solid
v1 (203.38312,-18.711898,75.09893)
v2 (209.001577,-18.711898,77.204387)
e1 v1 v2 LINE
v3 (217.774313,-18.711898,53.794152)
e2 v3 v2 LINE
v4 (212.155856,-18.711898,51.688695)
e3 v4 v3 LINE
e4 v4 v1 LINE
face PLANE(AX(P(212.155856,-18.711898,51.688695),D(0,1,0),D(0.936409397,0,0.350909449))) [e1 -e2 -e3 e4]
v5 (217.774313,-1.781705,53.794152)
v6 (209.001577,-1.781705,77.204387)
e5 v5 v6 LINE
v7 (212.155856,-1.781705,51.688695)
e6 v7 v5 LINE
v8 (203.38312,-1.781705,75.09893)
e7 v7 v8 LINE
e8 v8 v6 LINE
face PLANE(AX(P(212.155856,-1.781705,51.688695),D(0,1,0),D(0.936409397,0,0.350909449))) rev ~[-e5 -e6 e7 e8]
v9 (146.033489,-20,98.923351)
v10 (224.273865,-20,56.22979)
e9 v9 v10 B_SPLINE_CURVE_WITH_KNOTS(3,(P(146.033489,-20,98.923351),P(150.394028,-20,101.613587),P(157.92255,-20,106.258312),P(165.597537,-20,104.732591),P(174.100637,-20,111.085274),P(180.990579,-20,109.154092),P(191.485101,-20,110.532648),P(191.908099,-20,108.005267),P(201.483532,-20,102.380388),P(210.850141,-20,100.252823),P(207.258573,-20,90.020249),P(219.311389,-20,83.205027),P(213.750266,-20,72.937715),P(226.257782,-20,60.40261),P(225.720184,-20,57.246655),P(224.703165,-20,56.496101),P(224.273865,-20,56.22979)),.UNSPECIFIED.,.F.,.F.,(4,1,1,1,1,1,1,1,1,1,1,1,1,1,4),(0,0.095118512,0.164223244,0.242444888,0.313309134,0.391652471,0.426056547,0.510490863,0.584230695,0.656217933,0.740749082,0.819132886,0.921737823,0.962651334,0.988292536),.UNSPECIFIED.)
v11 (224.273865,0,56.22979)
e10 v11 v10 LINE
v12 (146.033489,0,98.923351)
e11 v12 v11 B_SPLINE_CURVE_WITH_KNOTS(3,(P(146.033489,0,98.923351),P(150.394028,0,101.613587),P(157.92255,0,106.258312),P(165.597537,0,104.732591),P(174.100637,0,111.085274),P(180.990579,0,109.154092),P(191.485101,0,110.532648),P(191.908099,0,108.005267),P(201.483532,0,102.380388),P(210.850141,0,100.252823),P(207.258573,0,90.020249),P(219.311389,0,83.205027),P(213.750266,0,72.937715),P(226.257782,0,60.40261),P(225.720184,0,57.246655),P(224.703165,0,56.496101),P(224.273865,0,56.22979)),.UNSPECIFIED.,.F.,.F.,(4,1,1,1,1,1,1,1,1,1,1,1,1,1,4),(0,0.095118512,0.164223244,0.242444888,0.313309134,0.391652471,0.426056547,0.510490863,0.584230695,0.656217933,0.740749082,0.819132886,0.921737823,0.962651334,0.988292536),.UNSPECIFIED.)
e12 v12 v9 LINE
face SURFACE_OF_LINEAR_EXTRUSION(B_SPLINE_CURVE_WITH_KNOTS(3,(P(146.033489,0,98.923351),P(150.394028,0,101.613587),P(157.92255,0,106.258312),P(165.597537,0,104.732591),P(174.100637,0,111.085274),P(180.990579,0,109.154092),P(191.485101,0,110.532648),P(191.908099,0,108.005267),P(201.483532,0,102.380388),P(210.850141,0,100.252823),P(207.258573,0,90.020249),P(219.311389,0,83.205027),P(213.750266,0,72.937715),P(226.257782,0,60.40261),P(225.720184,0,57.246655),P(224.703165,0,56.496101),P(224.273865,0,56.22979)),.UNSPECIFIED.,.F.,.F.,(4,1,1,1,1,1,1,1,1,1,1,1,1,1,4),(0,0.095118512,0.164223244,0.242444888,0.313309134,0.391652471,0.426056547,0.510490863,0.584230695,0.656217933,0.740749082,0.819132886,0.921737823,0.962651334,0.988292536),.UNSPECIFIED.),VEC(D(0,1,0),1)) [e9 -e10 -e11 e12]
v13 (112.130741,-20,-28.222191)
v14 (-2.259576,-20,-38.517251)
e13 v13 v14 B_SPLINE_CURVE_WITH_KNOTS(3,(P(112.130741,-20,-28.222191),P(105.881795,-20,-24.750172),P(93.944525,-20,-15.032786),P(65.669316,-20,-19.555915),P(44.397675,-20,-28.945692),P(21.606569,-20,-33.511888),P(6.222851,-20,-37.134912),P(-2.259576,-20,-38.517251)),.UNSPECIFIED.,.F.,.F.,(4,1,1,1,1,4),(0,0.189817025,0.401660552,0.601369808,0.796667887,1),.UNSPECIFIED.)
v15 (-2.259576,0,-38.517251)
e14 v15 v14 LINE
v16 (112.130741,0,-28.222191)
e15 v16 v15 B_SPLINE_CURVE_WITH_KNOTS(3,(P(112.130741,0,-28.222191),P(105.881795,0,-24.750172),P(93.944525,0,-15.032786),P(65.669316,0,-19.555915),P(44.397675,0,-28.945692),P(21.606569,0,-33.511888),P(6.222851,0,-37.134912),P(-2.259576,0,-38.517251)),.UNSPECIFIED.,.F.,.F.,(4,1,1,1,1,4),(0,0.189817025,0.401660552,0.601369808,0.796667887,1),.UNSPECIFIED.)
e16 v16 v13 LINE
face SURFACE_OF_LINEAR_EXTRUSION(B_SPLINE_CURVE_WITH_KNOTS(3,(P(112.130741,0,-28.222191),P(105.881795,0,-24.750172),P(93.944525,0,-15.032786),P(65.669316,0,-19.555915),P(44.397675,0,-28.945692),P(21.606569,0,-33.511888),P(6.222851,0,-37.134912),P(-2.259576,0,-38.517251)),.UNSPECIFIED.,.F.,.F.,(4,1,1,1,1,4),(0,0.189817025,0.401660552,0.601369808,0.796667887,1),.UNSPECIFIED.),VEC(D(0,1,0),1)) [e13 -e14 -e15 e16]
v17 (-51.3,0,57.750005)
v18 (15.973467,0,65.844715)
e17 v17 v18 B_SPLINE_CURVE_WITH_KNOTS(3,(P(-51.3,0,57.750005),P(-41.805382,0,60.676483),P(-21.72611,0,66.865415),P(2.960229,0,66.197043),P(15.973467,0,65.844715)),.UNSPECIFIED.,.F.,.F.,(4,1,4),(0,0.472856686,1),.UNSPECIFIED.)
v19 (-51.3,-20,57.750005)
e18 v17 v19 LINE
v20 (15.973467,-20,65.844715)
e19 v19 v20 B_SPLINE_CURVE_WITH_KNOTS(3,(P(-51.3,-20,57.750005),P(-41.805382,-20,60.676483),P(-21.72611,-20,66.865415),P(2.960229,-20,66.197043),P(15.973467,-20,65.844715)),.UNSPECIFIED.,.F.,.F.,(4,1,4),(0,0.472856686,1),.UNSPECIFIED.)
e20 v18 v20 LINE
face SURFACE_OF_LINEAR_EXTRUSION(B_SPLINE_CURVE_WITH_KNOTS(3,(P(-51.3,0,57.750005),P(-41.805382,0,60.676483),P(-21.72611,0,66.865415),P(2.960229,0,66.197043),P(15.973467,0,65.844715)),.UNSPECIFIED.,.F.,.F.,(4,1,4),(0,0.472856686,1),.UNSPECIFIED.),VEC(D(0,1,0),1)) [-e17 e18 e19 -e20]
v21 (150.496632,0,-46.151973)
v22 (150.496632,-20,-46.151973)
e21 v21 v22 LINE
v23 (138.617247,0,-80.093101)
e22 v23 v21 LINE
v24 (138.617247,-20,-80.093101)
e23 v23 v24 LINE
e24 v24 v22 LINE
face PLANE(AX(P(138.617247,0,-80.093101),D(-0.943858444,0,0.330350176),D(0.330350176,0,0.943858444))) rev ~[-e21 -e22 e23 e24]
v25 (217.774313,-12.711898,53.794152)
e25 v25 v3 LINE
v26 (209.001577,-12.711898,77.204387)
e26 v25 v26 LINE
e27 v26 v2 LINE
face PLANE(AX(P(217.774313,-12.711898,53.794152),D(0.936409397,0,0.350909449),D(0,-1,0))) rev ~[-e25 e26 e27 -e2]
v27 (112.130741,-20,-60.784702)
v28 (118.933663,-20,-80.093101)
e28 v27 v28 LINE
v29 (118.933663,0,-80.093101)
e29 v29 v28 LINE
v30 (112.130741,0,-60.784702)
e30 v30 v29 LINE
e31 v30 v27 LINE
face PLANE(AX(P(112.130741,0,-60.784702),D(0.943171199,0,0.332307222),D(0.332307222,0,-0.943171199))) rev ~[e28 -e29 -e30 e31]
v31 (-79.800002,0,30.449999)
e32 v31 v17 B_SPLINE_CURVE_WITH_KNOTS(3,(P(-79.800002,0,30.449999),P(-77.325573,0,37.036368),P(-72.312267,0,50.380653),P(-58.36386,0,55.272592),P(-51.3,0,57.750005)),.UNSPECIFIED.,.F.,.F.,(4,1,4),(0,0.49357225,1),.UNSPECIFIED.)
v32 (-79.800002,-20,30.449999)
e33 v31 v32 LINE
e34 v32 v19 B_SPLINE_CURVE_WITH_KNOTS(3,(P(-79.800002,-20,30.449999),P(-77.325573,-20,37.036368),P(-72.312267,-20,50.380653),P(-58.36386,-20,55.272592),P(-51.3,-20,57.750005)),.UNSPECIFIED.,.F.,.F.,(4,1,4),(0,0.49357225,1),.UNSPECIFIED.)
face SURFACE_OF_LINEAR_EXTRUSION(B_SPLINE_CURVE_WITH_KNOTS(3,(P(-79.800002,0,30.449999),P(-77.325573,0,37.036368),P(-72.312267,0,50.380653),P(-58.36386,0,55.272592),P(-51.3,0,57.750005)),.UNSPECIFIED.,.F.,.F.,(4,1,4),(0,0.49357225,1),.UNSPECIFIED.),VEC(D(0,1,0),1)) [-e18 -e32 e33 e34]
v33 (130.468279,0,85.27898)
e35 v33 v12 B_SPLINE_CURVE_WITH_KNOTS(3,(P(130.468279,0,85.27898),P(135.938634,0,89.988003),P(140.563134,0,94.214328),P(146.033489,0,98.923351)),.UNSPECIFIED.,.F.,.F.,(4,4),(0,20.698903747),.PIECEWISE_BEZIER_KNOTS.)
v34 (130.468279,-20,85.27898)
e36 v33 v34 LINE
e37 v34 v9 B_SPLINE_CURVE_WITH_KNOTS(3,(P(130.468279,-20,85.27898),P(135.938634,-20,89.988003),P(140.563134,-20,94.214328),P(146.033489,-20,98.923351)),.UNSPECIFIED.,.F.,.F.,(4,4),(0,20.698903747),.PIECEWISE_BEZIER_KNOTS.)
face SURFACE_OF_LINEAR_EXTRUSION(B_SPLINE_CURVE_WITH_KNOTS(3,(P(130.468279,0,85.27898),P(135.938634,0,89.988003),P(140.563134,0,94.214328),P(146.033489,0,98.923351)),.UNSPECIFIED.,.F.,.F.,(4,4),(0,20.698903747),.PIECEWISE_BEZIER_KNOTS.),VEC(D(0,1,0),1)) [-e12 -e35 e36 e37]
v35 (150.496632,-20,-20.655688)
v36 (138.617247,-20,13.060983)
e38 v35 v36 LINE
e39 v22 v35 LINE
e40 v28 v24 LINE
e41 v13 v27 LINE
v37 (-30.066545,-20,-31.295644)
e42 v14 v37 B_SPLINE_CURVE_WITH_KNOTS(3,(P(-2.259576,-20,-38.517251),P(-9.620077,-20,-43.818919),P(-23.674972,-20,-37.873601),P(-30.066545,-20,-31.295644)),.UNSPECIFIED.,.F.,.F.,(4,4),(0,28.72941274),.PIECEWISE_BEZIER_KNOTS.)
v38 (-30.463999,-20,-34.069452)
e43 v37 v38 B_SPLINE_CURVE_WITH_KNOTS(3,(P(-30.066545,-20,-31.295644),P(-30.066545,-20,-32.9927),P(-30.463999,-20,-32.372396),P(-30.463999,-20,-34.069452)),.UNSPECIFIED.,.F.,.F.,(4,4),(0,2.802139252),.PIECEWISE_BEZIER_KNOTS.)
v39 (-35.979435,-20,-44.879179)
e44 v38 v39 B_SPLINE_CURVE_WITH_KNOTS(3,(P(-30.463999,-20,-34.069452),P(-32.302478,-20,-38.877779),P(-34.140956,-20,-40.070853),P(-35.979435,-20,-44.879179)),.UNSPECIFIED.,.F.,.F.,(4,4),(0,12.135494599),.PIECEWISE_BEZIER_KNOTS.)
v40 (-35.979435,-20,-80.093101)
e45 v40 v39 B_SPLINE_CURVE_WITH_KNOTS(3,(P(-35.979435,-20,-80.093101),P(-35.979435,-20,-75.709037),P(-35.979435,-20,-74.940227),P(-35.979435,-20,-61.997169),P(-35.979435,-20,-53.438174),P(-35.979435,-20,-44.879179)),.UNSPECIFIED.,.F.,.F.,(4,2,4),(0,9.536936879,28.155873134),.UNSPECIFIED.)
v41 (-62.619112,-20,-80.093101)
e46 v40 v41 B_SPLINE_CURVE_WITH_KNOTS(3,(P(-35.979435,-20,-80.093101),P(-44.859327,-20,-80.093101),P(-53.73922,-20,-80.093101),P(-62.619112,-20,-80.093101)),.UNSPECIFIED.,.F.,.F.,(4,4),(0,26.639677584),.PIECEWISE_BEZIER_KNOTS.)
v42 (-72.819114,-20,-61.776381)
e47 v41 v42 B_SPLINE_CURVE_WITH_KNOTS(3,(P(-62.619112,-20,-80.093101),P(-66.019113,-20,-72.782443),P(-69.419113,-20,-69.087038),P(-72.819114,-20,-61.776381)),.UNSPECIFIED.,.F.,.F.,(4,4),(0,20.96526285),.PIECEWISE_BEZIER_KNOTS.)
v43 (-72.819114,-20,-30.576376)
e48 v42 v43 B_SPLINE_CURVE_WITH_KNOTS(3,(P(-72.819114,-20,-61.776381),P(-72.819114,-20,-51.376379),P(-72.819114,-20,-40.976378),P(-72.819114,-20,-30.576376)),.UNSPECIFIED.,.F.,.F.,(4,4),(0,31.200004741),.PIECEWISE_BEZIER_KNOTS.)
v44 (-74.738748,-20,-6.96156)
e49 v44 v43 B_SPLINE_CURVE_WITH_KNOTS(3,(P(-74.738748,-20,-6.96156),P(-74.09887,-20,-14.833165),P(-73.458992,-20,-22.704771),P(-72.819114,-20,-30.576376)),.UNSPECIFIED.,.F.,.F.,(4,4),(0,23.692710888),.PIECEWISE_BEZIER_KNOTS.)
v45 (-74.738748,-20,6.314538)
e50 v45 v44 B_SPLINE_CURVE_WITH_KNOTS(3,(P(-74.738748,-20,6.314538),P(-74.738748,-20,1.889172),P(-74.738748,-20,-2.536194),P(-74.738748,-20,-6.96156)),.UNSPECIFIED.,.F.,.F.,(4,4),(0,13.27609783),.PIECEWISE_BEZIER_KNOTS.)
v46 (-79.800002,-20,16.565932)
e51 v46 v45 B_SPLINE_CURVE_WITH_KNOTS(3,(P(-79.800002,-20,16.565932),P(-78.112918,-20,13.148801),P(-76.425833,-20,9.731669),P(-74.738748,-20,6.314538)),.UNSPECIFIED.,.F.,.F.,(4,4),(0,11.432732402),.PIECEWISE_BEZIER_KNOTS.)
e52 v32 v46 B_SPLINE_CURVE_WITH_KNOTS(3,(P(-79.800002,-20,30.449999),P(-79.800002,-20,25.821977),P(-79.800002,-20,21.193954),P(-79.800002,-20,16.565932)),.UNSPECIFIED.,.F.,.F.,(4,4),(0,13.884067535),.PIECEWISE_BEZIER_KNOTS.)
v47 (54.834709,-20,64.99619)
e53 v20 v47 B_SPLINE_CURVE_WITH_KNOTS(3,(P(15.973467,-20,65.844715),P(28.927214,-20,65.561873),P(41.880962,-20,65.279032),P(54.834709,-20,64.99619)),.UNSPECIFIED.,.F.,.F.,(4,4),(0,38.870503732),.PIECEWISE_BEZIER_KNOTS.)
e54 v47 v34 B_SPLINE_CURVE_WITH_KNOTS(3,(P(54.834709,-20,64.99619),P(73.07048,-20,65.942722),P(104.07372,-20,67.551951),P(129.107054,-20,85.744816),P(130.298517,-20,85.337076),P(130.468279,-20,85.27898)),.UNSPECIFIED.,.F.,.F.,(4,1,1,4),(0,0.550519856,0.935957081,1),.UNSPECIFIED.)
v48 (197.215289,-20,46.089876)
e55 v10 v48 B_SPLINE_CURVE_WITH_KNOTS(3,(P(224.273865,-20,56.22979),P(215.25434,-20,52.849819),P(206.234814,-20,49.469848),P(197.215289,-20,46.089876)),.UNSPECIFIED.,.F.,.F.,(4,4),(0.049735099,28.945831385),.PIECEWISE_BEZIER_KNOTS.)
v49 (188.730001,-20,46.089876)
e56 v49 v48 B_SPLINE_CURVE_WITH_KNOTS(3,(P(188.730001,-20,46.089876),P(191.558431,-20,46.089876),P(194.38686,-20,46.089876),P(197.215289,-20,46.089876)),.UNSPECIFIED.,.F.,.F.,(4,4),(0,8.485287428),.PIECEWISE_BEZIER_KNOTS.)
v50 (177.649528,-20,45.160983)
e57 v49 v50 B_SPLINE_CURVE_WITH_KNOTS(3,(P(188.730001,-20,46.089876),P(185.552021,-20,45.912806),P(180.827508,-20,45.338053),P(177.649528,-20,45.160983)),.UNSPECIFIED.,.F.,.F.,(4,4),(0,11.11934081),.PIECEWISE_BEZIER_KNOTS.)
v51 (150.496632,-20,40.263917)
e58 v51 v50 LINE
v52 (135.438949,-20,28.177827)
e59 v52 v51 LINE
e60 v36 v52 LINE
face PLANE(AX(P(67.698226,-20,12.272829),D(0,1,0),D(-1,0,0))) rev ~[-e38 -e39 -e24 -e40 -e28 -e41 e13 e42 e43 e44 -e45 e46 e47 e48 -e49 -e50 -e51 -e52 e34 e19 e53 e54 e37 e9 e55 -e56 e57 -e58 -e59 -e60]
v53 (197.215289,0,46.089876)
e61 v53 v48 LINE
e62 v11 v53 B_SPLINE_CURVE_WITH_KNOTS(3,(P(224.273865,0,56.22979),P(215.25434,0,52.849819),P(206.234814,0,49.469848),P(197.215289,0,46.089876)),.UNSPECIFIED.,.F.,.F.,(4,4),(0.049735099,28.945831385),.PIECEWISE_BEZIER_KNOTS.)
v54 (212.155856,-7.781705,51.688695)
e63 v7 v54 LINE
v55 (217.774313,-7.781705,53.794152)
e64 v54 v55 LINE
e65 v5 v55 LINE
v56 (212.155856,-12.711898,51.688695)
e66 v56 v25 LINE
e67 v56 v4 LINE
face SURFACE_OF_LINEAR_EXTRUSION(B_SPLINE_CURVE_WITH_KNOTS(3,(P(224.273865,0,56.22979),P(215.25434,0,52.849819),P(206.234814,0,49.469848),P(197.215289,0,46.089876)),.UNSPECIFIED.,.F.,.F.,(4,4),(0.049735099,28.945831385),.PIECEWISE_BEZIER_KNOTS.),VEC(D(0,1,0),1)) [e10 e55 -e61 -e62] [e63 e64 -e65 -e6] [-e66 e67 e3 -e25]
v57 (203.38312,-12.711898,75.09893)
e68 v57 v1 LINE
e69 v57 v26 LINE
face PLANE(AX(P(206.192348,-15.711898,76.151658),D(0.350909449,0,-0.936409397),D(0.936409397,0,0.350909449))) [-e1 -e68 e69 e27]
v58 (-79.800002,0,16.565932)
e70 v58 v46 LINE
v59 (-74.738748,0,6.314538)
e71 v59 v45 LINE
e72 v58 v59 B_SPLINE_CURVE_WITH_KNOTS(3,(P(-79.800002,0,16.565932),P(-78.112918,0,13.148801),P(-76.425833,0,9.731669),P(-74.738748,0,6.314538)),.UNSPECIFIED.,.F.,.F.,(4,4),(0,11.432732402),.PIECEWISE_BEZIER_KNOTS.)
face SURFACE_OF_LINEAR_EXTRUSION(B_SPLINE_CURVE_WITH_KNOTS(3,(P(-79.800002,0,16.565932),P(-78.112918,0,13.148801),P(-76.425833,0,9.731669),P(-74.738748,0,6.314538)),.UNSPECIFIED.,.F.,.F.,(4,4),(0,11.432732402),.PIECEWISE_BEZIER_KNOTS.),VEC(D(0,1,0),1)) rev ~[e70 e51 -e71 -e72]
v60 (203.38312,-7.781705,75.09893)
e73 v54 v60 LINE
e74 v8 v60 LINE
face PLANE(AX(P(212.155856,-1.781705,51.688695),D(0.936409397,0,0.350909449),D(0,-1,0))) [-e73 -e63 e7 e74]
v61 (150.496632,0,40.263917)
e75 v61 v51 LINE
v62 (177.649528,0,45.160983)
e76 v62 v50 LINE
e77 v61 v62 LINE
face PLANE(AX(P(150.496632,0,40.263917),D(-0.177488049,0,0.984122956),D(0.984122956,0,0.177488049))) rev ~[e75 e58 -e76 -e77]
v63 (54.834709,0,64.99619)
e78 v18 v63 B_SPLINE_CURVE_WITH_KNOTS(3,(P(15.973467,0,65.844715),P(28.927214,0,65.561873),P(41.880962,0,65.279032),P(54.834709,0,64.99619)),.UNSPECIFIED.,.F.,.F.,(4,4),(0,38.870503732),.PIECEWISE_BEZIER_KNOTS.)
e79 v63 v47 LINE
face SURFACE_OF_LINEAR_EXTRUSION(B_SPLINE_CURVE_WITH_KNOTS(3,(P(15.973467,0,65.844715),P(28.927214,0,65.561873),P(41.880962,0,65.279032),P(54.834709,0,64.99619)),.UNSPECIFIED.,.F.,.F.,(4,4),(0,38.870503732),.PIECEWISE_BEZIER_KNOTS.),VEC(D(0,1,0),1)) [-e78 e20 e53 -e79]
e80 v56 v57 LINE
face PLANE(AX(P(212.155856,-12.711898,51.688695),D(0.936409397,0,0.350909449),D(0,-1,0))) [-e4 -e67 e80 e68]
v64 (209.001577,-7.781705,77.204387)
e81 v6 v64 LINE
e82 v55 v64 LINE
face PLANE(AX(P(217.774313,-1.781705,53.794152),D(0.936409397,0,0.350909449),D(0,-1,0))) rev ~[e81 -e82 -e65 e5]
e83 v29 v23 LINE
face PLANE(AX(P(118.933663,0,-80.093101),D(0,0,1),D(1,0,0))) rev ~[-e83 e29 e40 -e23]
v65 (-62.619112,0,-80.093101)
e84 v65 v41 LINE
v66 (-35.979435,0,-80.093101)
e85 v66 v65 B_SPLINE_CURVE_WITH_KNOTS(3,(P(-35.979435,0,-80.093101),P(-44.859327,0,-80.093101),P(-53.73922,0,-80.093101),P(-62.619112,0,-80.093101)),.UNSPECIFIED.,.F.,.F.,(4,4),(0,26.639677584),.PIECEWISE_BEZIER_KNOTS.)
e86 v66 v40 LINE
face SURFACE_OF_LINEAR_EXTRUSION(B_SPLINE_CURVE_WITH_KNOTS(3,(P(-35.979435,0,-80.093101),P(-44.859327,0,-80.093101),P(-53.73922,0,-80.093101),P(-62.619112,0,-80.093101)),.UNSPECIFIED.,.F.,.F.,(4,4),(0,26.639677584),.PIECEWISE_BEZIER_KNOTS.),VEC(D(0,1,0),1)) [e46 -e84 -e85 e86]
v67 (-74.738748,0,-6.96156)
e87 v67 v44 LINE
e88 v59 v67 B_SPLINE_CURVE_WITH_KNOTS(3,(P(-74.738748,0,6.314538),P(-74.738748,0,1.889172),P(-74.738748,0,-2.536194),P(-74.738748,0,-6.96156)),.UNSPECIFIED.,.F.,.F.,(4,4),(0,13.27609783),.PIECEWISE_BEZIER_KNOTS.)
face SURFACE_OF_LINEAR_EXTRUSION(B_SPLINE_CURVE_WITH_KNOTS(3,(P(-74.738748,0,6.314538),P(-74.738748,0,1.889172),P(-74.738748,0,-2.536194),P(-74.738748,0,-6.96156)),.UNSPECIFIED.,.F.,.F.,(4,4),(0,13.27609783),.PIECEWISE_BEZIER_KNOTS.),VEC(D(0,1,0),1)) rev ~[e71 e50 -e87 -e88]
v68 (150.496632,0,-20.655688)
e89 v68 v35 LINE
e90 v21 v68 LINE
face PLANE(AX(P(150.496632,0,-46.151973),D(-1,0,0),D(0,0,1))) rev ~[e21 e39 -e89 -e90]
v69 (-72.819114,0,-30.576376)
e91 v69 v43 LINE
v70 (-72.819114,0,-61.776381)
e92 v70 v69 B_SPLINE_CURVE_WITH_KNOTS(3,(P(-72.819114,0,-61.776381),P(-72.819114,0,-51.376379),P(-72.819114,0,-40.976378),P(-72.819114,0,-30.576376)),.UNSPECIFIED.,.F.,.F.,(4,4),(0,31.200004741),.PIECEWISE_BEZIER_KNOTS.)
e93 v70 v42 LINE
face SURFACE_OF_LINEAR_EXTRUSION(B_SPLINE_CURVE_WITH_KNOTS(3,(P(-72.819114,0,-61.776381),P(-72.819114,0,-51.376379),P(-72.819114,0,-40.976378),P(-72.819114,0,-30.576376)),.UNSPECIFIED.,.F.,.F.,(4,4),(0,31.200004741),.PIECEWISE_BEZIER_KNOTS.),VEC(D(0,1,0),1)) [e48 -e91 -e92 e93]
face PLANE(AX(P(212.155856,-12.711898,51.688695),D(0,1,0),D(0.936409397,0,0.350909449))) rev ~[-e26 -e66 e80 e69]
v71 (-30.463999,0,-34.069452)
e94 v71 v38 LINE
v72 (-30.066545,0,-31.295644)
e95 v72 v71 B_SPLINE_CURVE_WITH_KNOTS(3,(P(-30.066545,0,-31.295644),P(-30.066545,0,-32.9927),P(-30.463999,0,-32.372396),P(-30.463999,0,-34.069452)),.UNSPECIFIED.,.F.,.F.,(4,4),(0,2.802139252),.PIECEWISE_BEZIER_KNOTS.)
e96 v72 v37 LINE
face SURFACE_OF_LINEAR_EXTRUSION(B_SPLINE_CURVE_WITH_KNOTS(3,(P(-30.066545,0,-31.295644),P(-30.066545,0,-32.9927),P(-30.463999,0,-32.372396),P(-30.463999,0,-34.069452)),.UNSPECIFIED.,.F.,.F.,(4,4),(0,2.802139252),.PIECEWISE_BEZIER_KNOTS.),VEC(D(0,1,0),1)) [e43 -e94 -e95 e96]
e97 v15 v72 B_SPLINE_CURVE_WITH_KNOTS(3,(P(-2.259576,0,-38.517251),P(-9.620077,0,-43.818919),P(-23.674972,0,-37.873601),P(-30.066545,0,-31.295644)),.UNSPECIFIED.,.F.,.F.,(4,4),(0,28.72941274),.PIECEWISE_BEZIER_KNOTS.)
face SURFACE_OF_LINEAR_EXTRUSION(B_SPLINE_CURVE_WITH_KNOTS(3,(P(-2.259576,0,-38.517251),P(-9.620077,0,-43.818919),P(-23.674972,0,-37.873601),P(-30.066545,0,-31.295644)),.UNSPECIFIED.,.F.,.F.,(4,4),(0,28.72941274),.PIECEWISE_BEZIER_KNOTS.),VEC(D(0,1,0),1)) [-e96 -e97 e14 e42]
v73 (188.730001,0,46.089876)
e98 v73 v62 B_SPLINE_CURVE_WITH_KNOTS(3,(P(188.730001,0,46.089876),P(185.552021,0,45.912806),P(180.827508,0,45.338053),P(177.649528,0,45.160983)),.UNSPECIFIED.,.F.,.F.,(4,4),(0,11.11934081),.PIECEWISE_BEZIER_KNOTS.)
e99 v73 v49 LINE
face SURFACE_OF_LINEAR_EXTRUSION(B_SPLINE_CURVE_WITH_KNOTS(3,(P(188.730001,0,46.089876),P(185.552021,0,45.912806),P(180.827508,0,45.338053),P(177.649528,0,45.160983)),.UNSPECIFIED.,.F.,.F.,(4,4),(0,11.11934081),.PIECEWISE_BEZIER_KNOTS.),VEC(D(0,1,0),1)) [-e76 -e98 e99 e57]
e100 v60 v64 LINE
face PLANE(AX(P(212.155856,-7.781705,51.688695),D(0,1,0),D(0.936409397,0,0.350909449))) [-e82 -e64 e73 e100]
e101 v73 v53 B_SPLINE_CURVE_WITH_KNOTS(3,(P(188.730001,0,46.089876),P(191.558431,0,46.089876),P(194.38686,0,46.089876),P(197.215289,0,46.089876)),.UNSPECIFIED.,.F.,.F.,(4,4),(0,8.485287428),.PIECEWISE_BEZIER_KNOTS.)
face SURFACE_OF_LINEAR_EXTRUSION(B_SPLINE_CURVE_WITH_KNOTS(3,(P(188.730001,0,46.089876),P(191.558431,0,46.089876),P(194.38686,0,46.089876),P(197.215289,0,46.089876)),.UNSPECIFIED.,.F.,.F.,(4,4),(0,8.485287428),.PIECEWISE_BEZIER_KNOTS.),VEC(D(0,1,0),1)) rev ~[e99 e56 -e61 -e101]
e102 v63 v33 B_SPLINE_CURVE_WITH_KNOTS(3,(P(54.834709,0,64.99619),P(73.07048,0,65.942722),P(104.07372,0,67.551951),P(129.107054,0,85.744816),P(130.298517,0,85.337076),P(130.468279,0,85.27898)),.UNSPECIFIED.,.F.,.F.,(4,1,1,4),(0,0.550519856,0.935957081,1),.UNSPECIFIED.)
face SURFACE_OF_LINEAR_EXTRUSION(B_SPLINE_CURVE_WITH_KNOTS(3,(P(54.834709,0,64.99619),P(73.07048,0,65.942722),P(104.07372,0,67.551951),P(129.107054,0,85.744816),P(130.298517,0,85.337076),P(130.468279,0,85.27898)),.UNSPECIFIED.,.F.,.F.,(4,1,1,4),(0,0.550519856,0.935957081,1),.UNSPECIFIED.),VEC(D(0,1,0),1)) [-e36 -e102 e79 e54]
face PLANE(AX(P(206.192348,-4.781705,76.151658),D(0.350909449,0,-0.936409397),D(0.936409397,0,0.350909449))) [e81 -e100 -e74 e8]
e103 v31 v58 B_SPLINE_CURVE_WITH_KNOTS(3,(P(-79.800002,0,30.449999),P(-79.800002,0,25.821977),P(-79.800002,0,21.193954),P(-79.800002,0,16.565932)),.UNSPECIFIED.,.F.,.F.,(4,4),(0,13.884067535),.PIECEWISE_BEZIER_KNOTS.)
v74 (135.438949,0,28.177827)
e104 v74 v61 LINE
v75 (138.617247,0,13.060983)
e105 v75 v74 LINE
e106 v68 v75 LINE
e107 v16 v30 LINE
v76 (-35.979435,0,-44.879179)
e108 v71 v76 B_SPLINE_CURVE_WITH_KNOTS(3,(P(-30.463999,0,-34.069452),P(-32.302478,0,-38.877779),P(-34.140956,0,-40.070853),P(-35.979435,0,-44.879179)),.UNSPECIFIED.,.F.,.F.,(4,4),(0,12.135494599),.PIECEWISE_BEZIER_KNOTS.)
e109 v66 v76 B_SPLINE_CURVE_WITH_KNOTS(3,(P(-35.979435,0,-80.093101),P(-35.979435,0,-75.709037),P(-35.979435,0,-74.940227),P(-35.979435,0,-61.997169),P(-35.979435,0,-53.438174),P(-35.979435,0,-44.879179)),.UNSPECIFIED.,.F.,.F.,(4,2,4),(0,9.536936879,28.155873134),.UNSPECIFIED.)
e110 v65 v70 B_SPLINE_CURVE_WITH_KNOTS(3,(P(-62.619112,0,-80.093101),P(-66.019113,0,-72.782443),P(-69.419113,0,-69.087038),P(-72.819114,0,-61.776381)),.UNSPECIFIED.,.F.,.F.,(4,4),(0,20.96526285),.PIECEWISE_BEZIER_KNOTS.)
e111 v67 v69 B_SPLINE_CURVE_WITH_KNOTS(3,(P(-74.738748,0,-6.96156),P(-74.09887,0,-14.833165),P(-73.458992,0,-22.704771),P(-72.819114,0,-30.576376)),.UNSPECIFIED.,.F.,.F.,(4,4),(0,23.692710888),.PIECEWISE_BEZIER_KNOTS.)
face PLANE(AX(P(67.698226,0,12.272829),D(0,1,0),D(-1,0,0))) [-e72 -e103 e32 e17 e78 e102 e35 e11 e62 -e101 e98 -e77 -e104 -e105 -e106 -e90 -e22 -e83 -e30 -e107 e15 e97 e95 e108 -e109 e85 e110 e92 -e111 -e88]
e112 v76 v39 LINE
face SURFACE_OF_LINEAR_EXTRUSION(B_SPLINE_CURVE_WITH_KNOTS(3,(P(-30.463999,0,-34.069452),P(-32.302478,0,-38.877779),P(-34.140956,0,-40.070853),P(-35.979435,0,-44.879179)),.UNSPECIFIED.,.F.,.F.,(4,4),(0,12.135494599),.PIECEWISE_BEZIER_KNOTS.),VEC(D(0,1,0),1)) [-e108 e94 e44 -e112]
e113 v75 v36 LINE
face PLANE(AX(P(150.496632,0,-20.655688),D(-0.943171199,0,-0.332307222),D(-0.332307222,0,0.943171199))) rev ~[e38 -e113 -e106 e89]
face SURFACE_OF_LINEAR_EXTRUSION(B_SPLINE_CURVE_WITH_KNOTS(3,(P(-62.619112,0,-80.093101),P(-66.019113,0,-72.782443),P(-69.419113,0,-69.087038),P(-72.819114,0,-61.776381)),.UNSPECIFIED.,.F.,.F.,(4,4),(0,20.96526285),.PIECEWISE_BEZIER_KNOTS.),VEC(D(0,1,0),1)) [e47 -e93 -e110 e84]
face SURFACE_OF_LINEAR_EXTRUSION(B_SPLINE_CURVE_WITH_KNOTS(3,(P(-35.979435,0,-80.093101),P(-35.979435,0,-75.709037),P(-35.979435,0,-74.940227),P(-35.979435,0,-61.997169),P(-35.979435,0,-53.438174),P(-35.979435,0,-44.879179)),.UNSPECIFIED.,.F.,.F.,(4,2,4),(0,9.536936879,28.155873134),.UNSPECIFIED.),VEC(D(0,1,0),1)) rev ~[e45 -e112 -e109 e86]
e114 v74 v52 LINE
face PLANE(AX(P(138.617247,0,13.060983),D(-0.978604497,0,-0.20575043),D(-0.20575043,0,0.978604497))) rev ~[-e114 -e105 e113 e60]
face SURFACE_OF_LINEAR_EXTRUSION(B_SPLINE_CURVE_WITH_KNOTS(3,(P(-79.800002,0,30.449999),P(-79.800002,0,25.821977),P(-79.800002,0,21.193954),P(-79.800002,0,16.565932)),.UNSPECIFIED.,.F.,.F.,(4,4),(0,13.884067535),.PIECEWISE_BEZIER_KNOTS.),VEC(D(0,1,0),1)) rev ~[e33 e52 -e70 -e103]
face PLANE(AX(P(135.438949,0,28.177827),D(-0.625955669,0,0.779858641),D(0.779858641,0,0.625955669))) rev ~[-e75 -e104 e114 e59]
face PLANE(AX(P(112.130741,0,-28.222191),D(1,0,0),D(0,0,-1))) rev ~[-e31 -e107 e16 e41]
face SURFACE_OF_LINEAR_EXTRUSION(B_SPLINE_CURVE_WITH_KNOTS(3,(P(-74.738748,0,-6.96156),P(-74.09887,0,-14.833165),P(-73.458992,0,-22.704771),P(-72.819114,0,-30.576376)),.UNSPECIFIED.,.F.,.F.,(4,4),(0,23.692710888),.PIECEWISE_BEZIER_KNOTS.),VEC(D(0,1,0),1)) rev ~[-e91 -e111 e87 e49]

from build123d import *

# Parameters (mm, degrees)
F1_DEPTH = 20
F2_W     = 6
F2_H     = 6
F3_DEPTH = 25


with BuildPart() as f1:
    # F0 (on Front) → F1 (new body)
    with BuildSketch(Plane.XZ):
        with BuildLine():
            add(Edge.make_bspline(
                [(-79.8000022769, 30.4499994963), (-77.3255732356, 37.0363681068), (-72.3122665902, 50.380652777), (-58.3638603742, 55.2725916691), (-51.3000003994, 57.750005275)],
                knots=[0, 0, 0, 0, 0.4935722501, 1, 1, 1, 1], degree=3))
            add(Edge.make_bspline(
                [(-79.8000022769, 30.4499994963), (-79.8000022769, 25.8219769845), (-79.8000022769, 21.1939544727), (-79.8000022769, 16.5659319609)],
                knots=[0, 0, 0, 0, 13.8840675354, 13.8840675354, 13.8840675354, 13.8840675354], degree=3))
            add(Edge.make_bspline(
                [(-79.8000022769, 16.5659319609), (-78.1129176418, 13.1488006252), (-76.4258330067, 9.7316692894), (-74.7387483716, 6.3145379536)],
                knots=[0, 0, 0, 0, 11.4327324025, 11.4327324025, 11.4327324025, 11.4327324025], degree=3))
            add(Edge.make_bspline(
                [(-74.7387483716, 6.3145379536), (-74.7387483716, 1.8891720101), (-74.7387483716, -2.5361939333), (-74.7387483716, -6.9615598768)],
                knots=[0, 0, 0, 0, 13.2760978304, 13.2760978304, 13.2760978304, 13.2760978304], degree=3))
            add(Edge.make_bspline(
                [(-74.7387483716, -6.9615598768), (-74.0988701582, -14.8331653327), (-73.4589919448, -22.7047707886), (-72.8191137314, -30.5763762444)],
                knots=[0, 0, 0, 0, 23.6927108881, 23.6927108881, 23.6927108881, 23.6927108881], degree=3))
            add(Edge.make_bspline(
                [(-72.8191137314, -61.776380986), (-72.8191137314, -51.3763794055), (-72.8191137314, -40.9763778249), (-72.8191137314, -30.5763762444)],
                knots=[0, 0, 0, 0, 31.2000047415, 31.2000047415, 31.2000047415, 31.2000047415], degree=3))
            add(Edge.make_bspline(
                [(-62.619112432, -80.093100667), (-66.0191128651, -72.7824432154), (-69.4191132983, -69.0870384375), (-72.8191137314, -61.776380986)],
                knots=[0, 0, 0, 0, 20.9652628503, 20.9652628503, 20.9652628503, 20.9652628503], degree=3))
            add(Edge.make_bspline(
                [(-35.9794348478, -80.093100667), (-44.8593273759, -80.093100667), (-53.7392199039, -80.093100667), (-62.619112432, -80.093100667)],
                knots=[0, 0, 0, 0, 26.6396775842, 26.6396775842, 26.6396775842, 26.6396775842], degree=3))
            add(Edge.make_bspline(
                [(-35.9794348478, -70.5561637878), (-35.9794348478, -74.9402269721), (-35.9794348478, -75.7090374827), (-35.9794348478, -80.093100667)],
                knots=[0, 0, 0, 0, 9.5369368792, 9.5369368792, 9.5369368792, 9.5369368792], degree=3))
            add(Edge.make_bspline(
                [(-35.9794348478, -70.5561637878), (-35.9794348478, -68.7853942315), (-35.9794348478, -67.0146246751), (-35.9794348478, -65.2438551188)],
                knots=[0, 0, 0, 0, 5.3123086691, 5.3123086691, 5.3123086691, 5.3123086691], degree=3))
            add(Edge.make_bspline(
                [(-35.9794348478, -44.8791794479), (-35.9794348478, -51.6674046715), (-35.9794348478, -58.4556298951), (-35.9794348478, -65.2438551188)],
                knots=[0, 0, 0, 0, 20.3646756709, 20.3646756709, 20.3646756709, 20.3646756709], degree=3))
            add(Edge.make_bspline(
                [(-30.4639991373, -34.0694524348), (-32.3024777075, -38.877778997), (-34.1409562776, -40.0708528856), (-35.9794348478, -44.8791794479)],
                knots=[0, 0, 0, 0, 12.1354945995, 12.1354945995, 12.1354945995, 12.1354945995], degree=3))
            add(Edge.make_bspline(
                [(-30.0665453109, -31.2956437094), (-30.0665453109, -32.9927003257), (-30.4639991373, -32.3723958184), (-30.4639991373, -34.0694524348)],
                knots=[0, 0, 0, 0, 2.8021392523, 2.8021392523, 2.8021392523, 2.8021392523], degree=3))
            add(Edge.make_bspline(
                [(-2.2595758461, -38.5172505659), (-9.6200771127, -43.818919345), (-23.6749724779, -37.8736013329), (-30.0665453109, -31.2956437094)],
                knots=[0, 0, 0, 0, 28.7294127404, 28.7294127404, 28.7294127404, 28.7294127404], degree=3))
            add(Edge.make_bspline(
                [(112.1307405169, -28.2221909259), (105.8817951046, -24.7501724659), (93.9445246715, -15.0327857291), (65.6693160397, -19.5559154849), (44.3976752626, -28.9456919948), (21.6065692925, -33.5118881504), (6.2228508317, -37.1349119471), (-2.2595758461, -38.5172505659)],
                knots=[0, 0, 0, 0, 0.1898170247, 0.4016605517, 0.601369808, 0.7966678874, 1, 1, 1, 1], degree=3))
            Line((112.1307405169, -28.2221909259), (112.1307405169, -60.7847019593))
            Line((112.1307405169, -60.7847019593), (118.9336627722, -80.093100667))
            Line((118.9336627722, -80.093100667), (138.6172473431, -80.093100667))
            Line((138.6172473431, -80.093100667), (150.4966318607, -46.1519733071))
            Line((150.4966318607, -46.1519733071), (150.4966318607, -20.6556878984))
            Line((150.4966318607, -20.6556878984), (138.6172473431, 13.0609832704))
            Line((138.6172473431, 13.0609832704), (135.4389489575, 28.1778269822))
            Line((135.4389489575, 28.1778269822), (150.4966318607, 40.2639172971))
            Line((150.4966318607, 40.2639172971), (177.6495277882, 45.1609827578))
            add(Edge.make_bspline(
                [(188.7300014496, 46.0898764431), (185.5520208677, 45.9128059447), (180.8275083701, 45.3380532563), (177.6495277882, 45.1609827578)],
                knots=[0, 0, 0, 0, 11.1193408096, 11.1193408096, 11.1193408096, 11.1193408096], degree=3))
            add(Edge.make_bspline(
                [(188.7300014496, 46.0898764431), (191.5584305922, 46.0898764431), (194.3868597349, 46.0898764431), (197.2152888775, 46.0898764431)],
                knots=[0, 0, 0, 0, 8.4852874279, 8.4852874279, 8.4852874279, 8.4852874279], degree=3))
            add(Edge.make_bspline(
                [(224.2738649775, 56.229789657), (215.2543396108, 52.8498185857), (206.2348142442, 49.4698475144), (197.2152888775, 46.0898764431)],
                knots=[0.0497350992, 0.0497350992, 0.0497350992, 0.0497350992, 28.9458313848, 28.9458313848, 28.9458313848, 28.9458313848], degree=3))
            add(Edge.make_bspline(
                [(146.0334894754, 98.9233508118), (150.3940280286, 101.6135872187), (157.9225497869, 106.2583124234), (165.5975371709, 104.7325906898), (174.1006372739, 111.0852743921), (180.9905790948, 109.1540917701), (191.4851006845, 110.5326477527), (191.9080991824, 108.005267024), (201.4835317513, 102.3803882418), (210.8501414622, 100.2528226665), (207.2585729408, 90.020248633), (219.3113885554, 83.2050270338), (213.7502656166, 72.9377152539), (226.2577816693, 60.4026103396), (225.7201837949, 57.2466550282), (224.7031647173, 56.4961008047), (224.2738649775, 56.229789657)],
                knots=[0, 0, 0, 0, 0.0951185118, 0.1642232437, 0.2424448882, 0.3133091343, 0.3916524715, 0.4260565471, 0.5104908627, 0.5842306953, 0.6562179328, 0.7407490819, 0.819132886, 0.9217378227, 0.9626513343, 0.9882925364, 0.9882925364, 0.9882925364, 0.9882925364], degree=3))
            add(Edge.make_bspline(
                [(130.4682791233, 85.2789804339), (135.9386344751, 89.9880031745), (140.5631341236, 94.2143280713), (146.0334894754, 98.9233508118)],
                knots=[0, 0, 0, 0, 20.6989037466, 20.6989037466, 20.6989037466, 20.6989037466], degree=3))
            add(Edge.make_bspline(
                [(54.8347085714, 64.9961903691), (73.0704797731, 65.9427215527), (104.0737196953, 67.5519506363), (129.1070540483, 85.7448160837), (130.2985168803, 85.3370761201), (130.4682791233, 85.2789804339)],
                knots=[0, 0, 0, 0, 0.5505198563, 0.9359570812, 1, 1, 1, 1], degree=3))
            add(Edge.make_bspline(
                [(15.9734673798, 65.8447146416), (28.9272144437, 65.5618732174), (41.8809615076, 65.2790317933), (54.8347085714, 64.9961903691)],
                knots=[0, 0, 0, 0, 38.8705037322, 38.8705037322, 38.8705037322, 38.8705037322], degree=3))
            add(Edge.make_bspline(
                [(-51.3000003994, 57.750005275), (-41.8053822057, 60.6764830515), (-21.7261098266, 66.865414843), (2.9602289471, 66.1970426005), (15.9734673798, 65.8447146416)],
                knots=[0, 0, 0, 0, 0.472856686, 1, 1, 1, 1], degree=3))
        make_face()
    extrude(amount=F1_DEPTH)

    # F2 (on face) → F3 (cut)
    with BuildSketch(Plane(origin=(9.1396874403, 0, -24.38945215), x_dir=(0.9364093971, 0, 0.3509094486), z_dir=(0.3509094486, 0, -0.9364093971))):
        with Locations((219.8027890972, 15.7118978727)):
            Rectangle(F2_W, F2_H)
        with Locations((219.8027890972, 4.7817049884)):
            Rectangle(F2_W, F2_H)
    extrude(amount=-F3_DEPTH, mode=Mode.SUBTRACT)


solid = f1.part
